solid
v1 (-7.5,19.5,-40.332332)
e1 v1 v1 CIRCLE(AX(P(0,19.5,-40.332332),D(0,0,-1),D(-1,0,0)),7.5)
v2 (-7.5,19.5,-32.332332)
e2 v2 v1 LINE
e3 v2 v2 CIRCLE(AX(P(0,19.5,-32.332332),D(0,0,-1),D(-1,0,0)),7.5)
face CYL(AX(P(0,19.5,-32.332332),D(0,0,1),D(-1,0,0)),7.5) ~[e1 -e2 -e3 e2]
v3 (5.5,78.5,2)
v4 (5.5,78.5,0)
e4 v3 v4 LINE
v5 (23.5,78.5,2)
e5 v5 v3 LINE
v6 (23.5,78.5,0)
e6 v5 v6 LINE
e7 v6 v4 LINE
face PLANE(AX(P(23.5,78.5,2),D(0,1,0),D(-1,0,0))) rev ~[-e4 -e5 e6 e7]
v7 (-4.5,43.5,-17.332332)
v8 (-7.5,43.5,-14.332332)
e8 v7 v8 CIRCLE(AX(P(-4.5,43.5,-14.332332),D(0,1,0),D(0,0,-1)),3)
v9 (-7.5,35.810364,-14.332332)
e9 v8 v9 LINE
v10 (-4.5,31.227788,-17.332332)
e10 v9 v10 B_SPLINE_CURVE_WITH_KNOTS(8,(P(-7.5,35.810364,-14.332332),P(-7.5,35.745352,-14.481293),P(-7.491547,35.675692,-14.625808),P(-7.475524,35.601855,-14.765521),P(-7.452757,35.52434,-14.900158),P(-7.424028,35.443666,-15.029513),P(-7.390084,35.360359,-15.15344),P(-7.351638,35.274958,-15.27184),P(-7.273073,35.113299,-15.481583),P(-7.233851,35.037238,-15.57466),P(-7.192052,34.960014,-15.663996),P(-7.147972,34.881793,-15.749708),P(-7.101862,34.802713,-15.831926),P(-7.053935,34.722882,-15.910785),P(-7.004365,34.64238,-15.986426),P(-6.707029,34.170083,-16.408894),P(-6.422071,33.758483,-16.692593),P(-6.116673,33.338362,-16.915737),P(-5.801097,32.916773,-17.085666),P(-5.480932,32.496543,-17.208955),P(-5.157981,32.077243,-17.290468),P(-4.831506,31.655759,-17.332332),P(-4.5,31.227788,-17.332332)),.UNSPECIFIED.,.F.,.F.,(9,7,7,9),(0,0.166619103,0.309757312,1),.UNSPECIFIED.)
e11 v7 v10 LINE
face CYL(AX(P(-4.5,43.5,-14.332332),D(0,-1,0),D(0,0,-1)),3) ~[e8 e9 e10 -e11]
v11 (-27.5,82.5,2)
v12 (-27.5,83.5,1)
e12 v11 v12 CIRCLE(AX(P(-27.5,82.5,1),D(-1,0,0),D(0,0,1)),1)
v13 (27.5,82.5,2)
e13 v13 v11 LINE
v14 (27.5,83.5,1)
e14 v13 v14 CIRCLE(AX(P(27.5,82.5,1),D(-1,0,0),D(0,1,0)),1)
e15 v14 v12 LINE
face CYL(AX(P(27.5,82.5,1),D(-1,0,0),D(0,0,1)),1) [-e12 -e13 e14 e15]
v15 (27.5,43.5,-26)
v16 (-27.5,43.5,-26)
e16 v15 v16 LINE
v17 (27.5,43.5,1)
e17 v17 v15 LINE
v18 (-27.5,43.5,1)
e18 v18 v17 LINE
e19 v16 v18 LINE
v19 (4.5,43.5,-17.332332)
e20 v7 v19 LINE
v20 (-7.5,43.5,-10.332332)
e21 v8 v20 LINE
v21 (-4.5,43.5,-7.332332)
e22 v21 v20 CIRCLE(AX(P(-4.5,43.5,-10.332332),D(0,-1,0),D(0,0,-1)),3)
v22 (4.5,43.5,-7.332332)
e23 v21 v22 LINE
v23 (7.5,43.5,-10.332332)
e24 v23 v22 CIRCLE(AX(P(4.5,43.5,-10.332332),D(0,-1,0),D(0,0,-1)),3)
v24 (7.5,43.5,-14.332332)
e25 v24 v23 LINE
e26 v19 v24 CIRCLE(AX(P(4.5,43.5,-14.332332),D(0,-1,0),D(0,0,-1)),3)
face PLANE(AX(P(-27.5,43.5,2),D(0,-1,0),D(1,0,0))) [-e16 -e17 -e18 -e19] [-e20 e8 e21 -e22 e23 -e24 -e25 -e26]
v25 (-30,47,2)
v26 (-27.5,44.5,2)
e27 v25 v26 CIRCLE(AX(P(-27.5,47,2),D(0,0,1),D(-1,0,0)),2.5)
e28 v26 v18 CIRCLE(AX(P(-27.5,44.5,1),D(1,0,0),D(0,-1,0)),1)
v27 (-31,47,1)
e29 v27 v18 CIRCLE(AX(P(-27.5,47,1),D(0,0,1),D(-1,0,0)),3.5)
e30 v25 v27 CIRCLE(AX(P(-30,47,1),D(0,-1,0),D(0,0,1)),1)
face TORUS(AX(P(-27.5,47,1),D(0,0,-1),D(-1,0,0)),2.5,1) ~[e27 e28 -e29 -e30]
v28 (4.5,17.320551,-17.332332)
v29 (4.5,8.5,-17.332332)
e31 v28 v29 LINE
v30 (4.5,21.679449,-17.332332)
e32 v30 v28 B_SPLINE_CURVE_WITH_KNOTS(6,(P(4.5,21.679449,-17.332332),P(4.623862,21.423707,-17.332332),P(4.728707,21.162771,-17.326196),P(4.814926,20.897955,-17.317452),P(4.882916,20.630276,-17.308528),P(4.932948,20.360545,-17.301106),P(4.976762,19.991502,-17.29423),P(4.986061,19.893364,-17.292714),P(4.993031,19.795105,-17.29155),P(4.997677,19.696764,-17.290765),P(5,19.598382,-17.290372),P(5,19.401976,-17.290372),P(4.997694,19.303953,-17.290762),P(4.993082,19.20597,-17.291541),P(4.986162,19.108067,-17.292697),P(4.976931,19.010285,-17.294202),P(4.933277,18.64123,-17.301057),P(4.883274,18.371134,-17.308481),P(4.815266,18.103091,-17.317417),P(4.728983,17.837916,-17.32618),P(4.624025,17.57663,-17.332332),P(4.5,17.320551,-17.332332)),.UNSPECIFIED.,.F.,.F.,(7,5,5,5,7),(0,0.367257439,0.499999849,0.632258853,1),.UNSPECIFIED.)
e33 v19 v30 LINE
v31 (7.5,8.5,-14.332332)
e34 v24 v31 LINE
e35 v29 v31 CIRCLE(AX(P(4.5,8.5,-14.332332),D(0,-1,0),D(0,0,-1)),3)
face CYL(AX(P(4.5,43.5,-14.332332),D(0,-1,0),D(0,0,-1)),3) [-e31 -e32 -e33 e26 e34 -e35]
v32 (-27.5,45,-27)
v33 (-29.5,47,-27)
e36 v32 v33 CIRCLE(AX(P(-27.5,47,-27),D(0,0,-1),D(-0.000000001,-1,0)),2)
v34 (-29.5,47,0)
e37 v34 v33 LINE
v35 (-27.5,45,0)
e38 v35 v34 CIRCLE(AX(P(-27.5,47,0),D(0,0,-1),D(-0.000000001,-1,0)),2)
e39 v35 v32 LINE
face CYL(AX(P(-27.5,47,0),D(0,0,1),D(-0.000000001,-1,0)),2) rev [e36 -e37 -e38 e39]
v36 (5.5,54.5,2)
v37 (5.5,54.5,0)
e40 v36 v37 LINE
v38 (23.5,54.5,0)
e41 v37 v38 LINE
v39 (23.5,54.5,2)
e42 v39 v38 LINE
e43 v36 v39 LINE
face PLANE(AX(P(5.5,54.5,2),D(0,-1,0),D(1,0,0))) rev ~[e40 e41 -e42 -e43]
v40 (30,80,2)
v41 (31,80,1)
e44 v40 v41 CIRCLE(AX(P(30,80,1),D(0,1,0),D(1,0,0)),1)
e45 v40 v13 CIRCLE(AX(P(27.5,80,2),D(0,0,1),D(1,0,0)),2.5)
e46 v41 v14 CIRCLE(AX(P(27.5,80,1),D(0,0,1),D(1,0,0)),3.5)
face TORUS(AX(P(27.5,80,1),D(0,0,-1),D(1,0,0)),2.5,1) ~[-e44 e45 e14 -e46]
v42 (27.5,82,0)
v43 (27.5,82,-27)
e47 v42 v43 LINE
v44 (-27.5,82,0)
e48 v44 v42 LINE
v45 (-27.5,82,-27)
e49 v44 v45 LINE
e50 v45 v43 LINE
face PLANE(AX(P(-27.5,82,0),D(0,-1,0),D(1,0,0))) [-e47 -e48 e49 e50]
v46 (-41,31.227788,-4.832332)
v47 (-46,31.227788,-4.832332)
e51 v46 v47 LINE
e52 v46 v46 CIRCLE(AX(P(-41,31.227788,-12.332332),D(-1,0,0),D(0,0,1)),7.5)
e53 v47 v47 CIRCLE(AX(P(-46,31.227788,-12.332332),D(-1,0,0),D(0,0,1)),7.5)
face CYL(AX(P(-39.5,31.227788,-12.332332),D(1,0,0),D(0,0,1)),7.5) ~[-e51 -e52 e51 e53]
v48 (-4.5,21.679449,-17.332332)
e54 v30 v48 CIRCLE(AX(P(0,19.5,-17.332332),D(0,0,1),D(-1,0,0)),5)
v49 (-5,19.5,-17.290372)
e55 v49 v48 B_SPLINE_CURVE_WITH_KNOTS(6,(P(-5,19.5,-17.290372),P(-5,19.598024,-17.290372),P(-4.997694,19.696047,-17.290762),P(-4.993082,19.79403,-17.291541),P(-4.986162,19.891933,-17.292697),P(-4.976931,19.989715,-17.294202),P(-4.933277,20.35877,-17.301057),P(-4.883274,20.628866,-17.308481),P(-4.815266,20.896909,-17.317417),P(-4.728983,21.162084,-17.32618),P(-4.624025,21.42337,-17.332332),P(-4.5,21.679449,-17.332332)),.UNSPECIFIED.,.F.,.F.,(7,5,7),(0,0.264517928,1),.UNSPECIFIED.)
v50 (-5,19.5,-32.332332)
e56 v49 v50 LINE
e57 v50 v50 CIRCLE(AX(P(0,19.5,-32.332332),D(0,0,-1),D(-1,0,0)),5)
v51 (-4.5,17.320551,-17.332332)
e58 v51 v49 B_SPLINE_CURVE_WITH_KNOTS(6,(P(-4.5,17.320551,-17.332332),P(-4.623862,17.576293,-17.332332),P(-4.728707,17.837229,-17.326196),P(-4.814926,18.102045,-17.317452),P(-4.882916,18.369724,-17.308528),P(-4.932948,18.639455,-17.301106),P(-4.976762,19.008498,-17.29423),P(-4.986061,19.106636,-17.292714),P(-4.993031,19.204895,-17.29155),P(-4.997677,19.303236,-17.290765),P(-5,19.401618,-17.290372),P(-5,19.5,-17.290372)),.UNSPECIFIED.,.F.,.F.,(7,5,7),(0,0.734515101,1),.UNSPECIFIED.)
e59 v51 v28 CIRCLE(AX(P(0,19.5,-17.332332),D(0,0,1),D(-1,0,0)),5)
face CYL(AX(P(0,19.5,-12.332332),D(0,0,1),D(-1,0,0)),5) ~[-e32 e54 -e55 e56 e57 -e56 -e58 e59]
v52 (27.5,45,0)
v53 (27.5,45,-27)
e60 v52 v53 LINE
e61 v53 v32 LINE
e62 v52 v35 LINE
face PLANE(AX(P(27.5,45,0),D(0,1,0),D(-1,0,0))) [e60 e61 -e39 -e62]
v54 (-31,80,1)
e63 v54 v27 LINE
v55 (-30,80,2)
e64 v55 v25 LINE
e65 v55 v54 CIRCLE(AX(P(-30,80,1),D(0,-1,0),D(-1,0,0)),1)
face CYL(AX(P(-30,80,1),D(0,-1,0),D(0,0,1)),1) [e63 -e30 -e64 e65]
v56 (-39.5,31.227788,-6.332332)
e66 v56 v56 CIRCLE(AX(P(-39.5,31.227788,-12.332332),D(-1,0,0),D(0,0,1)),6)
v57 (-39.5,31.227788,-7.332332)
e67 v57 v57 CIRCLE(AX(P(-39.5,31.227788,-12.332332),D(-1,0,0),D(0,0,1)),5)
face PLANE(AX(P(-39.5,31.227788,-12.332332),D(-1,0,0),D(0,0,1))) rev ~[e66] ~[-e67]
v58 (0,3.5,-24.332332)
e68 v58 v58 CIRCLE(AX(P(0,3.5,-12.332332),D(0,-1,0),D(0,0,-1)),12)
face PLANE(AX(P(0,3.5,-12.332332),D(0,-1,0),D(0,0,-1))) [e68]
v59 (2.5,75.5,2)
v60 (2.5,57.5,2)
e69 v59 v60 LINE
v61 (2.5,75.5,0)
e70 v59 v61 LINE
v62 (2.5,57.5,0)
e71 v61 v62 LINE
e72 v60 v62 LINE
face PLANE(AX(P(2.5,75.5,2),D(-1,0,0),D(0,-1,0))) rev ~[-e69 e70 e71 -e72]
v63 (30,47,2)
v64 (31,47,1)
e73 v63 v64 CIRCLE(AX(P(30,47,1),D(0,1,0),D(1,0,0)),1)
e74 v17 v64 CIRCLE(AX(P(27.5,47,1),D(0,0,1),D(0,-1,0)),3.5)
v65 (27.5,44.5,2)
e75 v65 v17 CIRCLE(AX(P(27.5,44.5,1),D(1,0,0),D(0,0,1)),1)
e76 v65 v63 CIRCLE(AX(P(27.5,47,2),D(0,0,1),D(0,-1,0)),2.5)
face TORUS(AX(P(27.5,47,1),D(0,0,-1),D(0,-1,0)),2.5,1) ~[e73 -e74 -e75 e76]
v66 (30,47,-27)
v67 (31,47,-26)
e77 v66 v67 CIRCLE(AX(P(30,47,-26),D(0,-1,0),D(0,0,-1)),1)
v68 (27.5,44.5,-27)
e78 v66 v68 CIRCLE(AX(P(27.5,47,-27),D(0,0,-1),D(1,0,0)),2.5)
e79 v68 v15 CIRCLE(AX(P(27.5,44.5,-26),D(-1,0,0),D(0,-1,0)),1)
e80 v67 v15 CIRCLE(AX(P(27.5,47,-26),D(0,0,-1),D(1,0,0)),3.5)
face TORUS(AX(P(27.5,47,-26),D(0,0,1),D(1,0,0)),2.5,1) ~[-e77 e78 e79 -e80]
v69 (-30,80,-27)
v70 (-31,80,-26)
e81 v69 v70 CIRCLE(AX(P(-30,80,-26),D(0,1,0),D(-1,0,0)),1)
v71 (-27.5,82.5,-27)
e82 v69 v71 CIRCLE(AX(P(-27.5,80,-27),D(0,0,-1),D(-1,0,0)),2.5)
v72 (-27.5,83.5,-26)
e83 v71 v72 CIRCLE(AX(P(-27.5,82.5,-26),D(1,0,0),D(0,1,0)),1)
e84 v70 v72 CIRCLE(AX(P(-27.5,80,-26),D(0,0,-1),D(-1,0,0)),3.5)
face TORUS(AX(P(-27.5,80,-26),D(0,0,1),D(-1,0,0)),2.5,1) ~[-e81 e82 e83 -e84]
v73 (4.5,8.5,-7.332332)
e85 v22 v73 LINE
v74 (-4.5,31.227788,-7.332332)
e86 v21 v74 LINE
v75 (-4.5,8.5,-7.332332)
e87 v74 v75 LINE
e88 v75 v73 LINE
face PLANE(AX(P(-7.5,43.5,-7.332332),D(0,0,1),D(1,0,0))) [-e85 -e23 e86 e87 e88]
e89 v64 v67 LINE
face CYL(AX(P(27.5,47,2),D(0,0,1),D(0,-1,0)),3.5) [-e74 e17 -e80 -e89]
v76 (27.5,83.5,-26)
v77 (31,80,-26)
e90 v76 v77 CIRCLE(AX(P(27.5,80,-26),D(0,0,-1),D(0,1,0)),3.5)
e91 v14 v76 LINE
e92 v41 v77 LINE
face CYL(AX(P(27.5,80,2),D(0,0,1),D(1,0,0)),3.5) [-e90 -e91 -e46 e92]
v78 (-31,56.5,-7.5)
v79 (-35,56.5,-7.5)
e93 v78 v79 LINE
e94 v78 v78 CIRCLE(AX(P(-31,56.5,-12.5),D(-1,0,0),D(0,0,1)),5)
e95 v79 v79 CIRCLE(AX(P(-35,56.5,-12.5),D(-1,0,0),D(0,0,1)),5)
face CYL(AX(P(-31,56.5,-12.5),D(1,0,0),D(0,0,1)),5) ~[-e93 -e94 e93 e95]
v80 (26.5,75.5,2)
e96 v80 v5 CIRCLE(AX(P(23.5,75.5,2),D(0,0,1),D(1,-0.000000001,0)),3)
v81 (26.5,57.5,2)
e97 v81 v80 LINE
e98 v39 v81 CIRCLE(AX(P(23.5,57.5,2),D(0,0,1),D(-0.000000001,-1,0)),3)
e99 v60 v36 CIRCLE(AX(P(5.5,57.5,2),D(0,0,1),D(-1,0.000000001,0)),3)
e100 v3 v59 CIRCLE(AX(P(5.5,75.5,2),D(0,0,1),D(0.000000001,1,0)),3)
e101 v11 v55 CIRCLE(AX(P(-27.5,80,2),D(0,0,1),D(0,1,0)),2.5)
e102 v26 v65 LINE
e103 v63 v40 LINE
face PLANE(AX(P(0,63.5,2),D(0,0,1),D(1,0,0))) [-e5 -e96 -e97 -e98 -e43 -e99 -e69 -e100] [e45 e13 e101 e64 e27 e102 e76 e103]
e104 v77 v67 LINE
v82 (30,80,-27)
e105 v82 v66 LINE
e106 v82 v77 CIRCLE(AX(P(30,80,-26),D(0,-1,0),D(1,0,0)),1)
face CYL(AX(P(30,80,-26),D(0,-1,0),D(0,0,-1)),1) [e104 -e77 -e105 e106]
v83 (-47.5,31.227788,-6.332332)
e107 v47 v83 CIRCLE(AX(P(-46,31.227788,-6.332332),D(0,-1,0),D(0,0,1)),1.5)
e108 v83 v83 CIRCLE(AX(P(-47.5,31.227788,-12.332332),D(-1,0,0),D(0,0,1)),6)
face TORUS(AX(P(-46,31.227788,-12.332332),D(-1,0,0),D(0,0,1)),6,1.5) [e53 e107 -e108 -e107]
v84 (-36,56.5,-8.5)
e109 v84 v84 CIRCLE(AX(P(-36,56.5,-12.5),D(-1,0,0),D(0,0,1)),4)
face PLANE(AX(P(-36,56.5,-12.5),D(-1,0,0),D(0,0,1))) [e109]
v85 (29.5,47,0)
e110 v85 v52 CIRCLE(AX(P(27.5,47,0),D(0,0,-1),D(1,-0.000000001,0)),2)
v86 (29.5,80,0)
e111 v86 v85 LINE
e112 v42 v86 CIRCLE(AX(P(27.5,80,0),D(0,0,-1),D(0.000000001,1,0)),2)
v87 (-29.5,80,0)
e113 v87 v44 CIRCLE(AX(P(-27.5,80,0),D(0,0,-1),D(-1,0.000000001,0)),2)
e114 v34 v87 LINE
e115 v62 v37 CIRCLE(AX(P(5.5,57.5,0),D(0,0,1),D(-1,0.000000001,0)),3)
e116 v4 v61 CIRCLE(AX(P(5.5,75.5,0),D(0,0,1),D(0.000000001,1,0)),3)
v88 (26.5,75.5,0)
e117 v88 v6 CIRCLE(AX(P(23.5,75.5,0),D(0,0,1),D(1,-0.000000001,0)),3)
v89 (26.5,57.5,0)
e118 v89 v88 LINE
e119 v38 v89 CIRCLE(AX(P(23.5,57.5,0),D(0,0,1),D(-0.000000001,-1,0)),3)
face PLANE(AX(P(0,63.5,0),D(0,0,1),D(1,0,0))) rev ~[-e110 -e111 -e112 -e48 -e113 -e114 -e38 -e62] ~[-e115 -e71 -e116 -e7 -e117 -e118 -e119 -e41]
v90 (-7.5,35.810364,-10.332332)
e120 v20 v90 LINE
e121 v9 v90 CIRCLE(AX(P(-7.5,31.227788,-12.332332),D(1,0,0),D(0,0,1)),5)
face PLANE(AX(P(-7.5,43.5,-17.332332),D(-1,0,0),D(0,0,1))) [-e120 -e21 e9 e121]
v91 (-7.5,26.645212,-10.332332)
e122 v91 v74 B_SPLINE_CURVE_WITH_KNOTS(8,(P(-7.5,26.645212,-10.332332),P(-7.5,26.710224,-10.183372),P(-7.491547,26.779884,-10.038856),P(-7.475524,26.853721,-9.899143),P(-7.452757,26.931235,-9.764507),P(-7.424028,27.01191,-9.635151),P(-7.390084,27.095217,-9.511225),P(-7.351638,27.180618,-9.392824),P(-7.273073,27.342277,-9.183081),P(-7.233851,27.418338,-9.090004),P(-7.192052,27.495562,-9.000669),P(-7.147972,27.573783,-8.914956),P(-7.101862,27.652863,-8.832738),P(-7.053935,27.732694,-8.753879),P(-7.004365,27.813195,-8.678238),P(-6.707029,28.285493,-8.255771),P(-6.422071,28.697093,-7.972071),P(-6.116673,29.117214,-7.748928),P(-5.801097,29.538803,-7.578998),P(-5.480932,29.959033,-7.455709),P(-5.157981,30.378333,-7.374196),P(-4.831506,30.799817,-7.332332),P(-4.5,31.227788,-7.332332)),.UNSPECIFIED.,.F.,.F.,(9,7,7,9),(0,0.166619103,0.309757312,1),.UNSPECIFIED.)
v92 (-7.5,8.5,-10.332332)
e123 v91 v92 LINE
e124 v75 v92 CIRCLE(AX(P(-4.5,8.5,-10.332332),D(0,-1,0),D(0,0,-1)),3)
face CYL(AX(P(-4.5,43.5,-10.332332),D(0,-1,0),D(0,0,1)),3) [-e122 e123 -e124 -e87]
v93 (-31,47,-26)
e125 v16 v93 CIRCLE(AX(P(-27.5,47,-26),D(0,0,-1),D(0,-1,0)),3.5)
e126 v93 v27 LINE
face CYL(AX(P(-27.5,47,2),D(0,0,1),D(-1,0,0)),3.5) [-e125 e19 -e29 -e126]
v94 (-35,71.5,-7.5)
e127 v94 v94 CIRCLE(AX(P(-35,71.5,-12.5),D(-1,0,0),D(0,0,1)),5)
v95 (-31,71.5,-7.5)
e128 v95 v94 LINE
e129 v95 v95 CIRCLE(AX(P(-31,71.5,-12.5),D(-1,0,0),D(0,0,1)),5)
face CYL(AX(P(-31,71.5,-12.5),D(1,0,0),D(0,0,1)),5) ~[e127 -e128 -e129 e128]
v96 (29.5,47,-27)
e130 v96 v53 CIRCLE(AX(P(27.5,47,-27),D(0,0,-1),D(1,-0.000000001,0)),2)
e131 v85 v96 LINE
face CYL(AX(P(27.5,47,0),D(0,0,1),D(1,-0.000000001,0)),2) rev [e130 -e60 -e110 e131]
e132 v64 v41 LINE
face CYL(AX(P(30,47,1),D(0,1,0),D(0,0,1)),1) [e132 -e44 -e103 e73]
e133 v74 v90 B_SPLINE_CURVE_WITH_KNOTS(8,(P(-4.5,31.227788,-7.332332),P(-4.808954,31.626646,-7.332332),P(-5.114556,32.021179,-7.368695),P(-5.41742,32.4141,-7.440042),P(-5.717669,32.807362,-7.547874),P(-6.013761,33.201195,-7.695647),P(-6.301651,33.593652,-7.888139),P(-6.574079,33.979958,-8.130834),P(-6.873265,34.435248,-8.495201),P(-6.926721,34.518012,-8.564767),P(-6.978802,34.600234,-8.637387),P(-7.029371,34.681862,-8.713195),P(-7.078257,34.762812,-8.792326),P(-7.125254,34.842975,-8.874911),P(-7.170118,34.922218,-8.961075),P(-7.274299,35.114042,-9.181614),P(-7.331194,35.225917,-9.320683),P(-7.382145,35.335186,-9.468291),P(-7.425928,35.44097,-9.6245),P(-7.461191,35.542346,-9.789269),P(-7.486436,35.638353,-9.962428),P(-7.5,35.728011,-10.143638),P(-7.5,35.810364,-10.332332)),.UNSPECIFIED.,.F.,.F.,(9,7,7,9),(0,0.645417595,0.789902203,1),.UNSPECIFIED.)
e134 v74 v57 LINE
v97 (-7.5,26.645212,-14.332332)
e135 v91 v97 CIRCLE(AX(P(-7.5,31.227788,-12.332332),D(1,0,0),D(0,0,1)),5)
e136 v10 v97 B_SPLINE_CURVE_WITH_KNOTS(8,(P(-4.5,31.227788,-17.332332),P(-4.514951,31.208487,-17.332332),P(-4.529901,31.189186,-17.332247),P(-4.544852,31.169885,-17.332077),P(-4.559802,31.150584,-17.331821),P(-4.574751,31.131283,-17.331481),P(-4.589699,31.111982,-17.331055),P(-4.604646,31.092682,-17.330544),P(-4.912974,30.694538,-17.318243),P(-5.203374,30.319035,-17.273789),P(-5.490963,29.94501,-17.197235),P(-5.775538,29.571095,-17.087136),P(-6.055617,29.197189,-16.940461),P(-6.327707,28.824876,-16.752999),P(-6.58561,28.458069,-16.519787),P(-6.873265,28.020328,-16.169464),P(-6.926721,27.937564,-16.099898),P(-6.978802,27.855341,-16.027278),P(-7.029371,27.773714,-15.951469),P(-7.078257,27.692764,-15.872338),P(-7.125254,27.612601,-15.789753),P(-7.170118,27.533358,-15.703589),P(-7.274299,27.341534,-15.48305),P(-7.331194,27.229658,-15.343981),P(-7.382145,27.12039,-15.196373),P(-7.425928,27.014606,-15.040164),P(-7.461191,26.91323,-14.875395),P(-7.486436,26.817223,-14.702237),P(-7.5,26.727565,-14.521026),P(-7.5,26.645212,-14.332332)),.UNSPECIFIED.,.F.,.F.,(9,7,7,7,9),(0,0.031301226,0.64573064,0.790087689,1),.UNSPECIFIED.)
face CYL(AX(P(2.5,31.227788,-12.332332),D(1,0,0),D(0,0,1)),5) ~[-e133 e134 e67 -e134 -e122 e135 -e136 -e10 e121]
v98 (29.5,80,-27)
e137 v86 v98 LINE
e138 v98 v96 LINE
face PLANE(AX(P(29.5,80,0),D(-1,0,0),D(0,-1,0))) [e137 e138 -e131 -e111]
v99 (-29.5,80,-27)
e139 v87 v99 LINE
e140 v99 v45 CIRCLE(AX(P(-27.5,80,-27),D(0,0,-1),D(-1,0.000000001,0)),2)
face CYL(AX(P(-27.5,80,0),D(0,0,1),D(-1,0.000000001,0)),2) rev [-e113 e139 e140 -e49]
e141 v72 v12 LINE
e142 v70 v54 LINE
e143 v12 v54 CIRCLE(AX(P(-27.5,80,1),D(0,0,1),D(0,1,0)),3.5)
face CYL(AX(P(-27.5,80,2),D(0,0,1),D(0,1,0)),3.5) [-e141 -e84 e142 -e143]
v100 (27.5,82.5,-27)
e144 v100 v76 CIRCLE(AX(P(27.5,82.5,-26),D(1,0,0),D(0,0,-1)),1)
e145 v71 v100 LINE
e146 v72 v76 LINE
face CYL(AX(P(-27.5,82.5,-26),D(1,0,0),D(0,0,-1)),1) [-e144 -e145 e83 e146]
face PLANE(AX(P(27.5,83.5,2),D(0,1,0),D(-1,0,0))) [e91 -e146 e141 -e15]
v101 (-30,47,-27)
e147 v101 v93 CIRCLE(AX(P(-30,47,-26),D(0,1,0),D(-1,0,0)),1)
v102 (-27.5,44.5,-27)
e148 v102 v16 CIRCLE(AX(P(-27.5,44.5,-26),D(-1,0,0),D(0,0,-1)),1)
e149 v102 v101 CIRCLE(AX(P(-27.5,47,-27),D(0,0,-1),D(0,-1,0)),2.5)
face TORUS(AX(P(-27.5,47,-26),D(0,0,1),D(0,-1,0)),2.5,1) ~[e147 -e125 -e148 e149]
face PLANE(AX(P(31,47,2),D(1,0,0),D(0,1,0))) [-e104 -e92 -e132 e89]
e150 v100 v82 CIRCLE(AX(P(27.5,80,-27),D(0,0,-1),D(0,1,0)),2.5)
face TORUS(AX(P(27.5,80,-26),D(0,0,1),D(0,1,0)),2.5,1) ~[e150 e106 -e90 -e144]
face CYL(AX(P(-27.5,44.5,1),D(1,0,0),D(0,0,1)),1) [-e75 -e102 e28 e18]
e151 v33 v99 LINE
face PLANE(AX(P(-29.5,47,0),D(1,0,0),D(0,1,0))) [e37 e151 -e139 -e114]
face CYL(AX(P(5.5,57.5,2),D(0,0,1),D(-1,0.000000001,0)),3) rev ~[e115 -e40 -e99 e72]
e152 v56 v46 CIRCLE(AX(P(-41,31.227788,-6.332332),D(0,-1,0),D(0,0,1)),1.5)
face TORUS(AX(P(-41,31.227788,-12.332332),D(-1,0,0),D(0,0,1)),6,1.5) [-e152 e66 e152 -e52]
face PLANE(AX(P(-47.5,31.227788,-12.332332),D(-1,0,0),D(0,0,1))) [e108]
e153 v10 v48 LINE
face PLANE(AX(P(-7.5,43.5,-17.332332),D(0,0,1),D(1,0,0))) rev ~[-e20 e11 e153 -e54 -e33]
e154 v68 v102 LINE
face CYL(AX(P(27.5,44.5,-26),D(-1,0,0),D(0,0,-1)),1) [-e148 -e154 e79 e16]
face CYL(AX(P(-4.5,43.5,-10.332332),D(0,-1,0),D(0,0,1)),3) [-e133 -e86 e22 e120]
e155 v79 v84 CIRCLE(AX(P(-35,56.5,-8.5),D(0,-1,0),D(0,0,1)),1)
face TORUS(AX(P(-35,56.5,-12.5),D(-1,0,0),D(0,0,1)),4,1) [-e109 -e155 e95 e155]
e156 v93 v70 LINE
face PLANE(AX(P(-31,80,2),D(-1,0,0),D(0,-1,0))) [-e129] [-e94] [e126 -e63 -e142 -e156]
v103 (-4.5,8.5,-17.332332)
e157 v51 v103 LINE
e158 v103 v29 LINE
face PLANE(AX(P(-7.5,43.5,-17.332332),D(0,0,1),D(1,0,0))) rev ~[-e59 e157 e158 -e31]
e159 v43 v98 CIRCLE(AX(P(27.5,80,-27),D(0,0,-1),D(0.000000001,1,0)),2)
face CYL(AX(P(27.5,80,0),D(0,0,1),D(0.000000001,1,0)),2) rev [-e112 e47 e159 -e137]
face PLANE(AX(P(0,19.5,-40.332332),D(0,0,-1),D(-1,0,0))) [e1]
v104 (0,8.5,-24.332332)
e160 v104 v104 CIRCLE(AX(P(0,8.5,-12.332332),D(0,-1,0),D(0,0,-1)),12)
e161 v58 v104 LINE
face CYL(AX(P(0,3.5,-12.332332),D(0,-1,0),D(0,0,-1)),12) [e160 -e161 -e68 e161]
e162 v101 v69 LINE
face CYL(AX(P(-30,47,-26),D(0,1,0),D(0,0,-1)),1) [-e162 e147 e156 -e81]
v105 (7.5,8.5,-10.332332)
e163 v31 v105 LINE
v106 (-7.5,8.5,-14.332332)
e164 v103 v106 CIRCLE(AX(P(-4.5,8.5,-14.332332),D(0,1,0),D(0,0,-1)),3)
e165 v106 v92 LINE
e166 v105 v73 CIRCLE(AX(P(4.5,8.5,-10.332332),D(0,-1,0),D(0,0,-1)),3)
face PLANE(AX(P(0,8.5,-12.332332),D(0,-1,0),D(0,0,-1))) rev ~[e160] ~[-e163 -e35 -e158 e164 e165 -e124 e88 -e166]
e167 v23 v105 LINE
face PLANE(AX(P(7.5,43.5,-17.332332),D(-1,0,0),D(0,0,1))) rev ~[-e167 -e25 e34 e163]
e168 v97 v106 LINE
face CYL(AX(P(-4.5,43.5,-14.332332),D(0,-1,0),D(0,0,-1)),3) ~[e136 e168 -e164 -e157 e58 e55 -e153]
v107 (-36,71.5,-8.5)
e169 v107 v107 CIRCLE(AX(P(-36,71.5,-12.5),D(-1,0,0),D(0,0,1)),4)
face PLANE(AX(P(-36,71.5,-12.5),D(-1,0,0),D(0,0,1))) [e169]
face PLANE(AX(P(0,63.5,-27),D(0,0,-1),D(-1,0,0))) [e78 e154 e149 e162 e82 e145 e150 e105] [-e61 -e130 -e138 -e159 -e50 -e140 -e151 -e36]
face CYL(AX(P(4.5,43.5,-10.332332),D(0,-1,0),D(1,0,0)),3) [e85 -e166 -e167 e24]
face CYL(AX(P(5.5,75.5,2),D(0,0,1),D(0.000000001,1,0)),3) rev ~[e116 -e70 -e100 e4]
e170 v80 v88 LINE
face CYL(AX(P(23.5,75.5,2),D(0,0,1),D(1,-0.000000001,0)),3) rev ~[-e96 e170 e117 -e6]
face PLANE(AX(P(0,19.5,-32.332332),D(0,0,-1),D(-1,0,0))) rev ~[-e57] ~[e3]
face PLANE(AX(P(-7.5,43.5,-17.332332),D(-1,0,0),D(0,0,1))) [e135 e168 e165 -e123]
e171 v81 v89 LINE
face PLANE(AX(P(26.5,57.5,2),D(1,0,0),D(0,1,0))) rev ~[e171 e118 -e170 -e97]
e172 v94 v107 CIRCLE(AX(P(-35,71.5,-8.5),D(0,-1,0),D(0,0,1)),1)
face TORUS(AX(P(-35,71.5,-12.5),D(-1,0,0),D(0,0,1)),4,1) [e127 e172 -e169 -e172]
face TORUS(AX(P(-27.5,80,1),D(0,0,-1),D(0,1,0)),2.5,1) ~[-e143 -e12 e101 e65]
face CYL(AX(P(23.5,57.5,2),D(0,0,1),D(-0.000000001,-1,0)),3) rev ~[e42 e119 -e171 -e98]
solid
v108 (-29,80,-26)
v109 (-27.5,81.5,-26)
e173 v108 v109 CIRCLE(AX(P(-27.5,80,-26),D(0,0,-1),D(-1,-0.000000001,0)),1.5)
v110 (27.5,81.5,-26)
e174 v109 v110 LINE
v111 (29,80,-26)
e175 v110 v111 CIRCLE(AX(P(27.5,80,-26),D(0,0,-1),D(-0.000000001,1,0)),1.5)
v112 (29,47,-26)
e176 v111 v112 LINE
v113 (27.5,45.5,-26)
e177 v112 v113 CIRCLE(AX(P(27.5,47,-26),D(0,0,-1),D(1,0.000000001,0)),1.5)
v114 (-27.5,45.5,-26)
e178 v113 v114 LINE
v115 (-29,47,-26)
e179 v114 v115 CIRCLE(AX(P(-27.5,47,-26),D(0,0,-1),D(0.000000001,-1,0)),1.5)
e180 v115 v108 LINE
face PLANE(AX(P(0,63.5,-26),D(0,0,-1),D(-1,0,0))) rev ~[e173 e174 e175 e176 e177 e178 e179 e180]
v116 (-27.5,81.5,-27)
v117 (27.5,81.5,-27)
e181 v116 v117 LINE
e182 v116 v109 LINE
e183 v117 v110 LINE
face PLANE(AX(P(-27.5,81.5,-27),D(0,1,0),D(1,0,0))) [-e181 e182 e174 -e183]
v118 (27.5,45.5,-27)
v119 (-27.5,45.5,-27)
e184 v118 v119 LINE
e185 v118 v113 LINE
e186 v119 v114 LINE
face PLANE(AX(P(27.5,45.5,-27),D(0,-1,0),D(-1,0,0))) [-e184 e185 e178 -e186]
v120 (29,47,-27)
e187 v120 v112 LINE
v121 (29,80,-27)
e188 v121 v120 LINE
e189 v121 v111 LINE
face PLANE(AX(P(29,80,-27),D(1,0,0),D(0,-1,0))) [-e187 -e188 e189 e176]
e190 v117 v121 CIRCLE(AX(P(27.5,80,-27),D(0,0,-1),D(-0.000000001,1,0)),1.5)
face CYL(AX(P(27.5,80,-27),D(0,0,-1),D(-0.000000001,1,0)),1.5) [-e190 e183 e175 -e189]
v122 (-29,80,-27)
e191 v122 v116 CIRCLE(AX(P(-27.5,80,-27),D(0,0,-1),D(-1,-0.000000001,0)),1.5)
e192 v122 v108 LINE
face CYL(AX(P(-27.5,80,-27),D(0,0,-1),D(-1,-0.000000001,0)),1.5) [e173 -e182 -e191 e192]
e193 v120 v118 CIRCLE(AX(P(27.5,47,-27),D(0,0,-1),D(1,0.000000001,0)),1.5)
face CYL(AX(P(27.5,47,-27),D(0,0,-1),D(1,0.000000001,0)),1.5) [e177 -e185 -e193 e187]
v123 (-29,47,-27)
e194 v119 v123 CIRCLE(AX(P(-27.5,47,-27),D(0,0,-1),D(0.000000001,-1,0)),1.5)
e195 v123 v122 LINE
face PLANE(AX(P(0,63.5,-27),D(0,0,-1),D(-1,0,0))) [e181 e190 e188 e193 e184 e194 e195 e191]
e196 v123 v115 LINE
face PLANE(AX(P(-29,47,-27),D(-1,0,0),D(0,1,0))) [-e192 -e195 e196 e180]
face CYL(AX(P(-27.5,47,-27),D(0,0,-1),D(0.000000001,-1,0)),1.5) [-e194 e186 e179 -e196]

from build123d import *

# Parameters (mm, degrees)
BOSS_EXTRUDE1_DEPTH      = 27
BOSS_EXTRUDE2_START      = 2
BOSS_EXTRUDE2_DEPTH      = 2
SKETCH3_W                = 15
SKETCH3_H                = 10
BOSS_EXTRUDE3_DEPTH      = 40
SKETCH4_R                = 12
BOSS_EXTRUDE4_DEPTH      = 5
FILLET2_R                = 3
BOSS_EXTRUDE5_DEPTH      = 32
BOSS_EXTRUDE5_DEPTH_BACK = 10
SKETCH5_R                = 5
SKETCH6_R                = 7.5
BOSS_EXTRUDE6_DEPTH      = 8
SKETCH7_R                = 5
BOSS_EXTRUDE7_DEPTH      = 5
BOSS_EXTRUDE8_DEPTH      = 1
FILLET3_R                = 1
FILLET4_R                = 1.5
FILLET5_R                = 1
BOSS_EXTRUDE9_DEPTH      = 15
BOSS_EXTRUDE9_DEPTH_BACK = 5
SKETCH9_R                = 5
SKETCH11_R               = 7.5
BOSS_EXTRUDE10_DEPTH     = 8


with BuildPart() as part:
    # Sketch1 → Boss-Extrude1 (new body)
    with BuildSketch(Plane.XY):
        with BuildLine():
            Line((31, 80), (31, 47))
            ThreePointArc((31, 47), (29.974873734, 44.525126266), (27.5, 43.5))
            Line((27.5, 43.5), (-27.5, 43.5))
            ThreePointArc((-27.5, 43.5), (-29.974873734, 44.525126266), (-31, 47))
            Line((-31, 47), (-31, 80))
            ThreePointArc((-31, 80), (-29.974873734, 82.474873734), (-27.5, 83.5))
            Line((-27.5, 83.5), (27.5, 83.5))
            ThreePointArc((27.5, 83.5), (29.974873734, 82.474873734), (31, 80))
        make_face()
        with BuildLine():
            Line((29.5, 80), (29.5, 47))
            ThreePointArc((29.5, 47), (28.914213562, 45.585786438), (27.5, 45))
            Line((27.5, 45), (-27.5, 45))
            ThreePointArc((-27.5, 45), (-28.914213562, 45.585786438), (-29.5, 47))
            Line((-29.5, 47), (-29.5, 80))
            ThreePointArc((-29.5, 80), (-28.914213562, 81.414213562), (-27.5, 82))
            Line((-27.5, 82), (27.5, 82))
            ThreePointArc((27.5, 82), (28.914213562, 81.414213562), (29.5, 80))
        make_face(mode=Mode.SUBTRACT)
    extrude(amount=-BOSS_EXTRUDE1_DEPTH)

    # Sketch2 → Boss-Extrude2 (add)
    with BuildSketch(Plane.XY.offset(BOSS_EXTRUDE2_START)):
        with BuildLine():
            Line((27.5, 83.5), (-27.5, 83.5))
            ThreePointArc((-27.5, 83.5), (-29.974873734, 82.474873734), (-31, 80))
            Line((-31, 80), (-31, 47))
            ThreePointArc((-31, 47), (-29.974873734, 44.525126266), (-27.5, 43.5))
            Line((-27.5, 43.5), (27.5, 43.5))
            ThreePointArc((27.5, 43.5), (29.974873734, 44.525126266), (31, 47))
            Line((31, 47), (31, 80))
            ThreePointArc((31, 80), (29.974873734, 82.474873734), (27.5, 83.5))
        make_face()
        with BuildLine():
            Line((23.5, 78.5), (5.5, 78.5))
            ThreePointArc((5.5, 78.5), (3.378679656, 77.621320344), (2.5, 75.5))
            Line((2.5, 75.5), (2.5, 57.5))
            ThreePointArc((2.5, 57.5), (3.378679656, 55.378679656), (5.5, 54.5))
            Line((5.5, 54.5), (23.5, 54.5))
            ThreePointArc((23.5, 54.5), (25.621320344, 55.378679656), (26.5, 57.5))
            Line((26.5, 57.5), (26.5, 75.5))
            ThreePointArc((26.5, 75.5), (25.621320344, 77.621320344), (23.5, 78.5))
        make_face(mode=Mode.SUBTRACT)
    extrude(amount=-BOSS_EXTRUDE2_DEPTH)

    # Sketch3 → Boss-Extrude3 (add)
    with BuildSketch(Plane.XZ.offset(-43.5)):
        with Locations((0, -12.332332162)):
            Rectangle(SKETCH3_W, SKETCH3_H)
    extrude(amount=BOSS_EXTRUDE3_DEPTH)

    # Sketch4 → Boss-Extrude4 (add)
    with BuildSketch(Plane.XZ.offset(-3.5)):
        with Locations(Location((0, -12.332332162, 0), (0, 0, 270))):
            Circle(SKETCH4_R)
    extrude(amount=-BOSS_EXTRUDE4_DEPTH)

    # Fillet2
    fillet2_edges = [part.edges().sort_by_distance(p)[0] for p in [
        (-7.5, 26, -7.332332162),
        (7.5, 26, -7.332332162),
        (7.5, 26, -17.332332162),
        (-7.5, 26, -17.332332162),
    ]]
    fillet(fillet2_edges, radius=FILLET2_R)

    # Sketch5 → Boss-Extrude5 (add, two sides: drawn at the far end of the back side and taken through both)
    with BuildSketch(Plane.ZY.offset(7.5).offset(-BOSS_EXTRUDE5_DEPTH_BACK)):
        with Locations((-12.332332162, 31.227787974)):
            Circle(SKETCH5_R)
    extrude(amount=BOSS_EXTRUDE5_DEPTH + BOSS_EXTRUDE5_DEPTH_BACK)

    # Sketch6 → Boss-Extrude6 (add)
    with BuildSketch(Plane.ZY.offset(39.5)):
        with Locations((-12.332332162, 31.227787974)):
            Circle(SKETCH6_R)
    extrude(amount=BOSS_EXTRUDE6_DEPTH)

    # Sketch7 → Boss-Extrude7 (add)
    with BuildSketch(Plane.ZY.offset(31)):
        with Locations((-12.5, 71.5)):
            Circle(SKETCH7_R)
        with Locations((-12.5, 56.5)):
            Circle(SKETCH7_R)
    extrude(amount=BOSS_EXTRUDE7_DEPTH)

    # Fillet3
    fillet3_edges = [part.edges().sort_by_distance(p)[0] for p in [
        (-29.974873734, 82.474873734, -27),
        (-31, 63.5, -27),
        (-29.974873734, 44.525126266, -27),
        (0, 43.5, -27),
        (29.974873734, 44.525126266, -27),
        (31, 63.5, -27),
        (29.974873734, 82.474873734, -27),
        (29.974873734, 82.474873734, 2),
        (0, 83.5, 2),
        (-29.974873734, 82.474873734, 2),
        (-31, 63.5, 2),
        (-29.974873734, 44.525126266, 2),
        (0, 43.5, 2),
        (29.974873734, 44.525126266, 2),
        (31, 63.5, 2),
        (0, 83.5, -27),
    ]]
    fillet(fillet3_edges, radius=FILLET3_R)

    # Fillet4
    fillet4_edges = [part.edges().sort_by_distance(p)[0] for p in [
        (-39.5, 31.227787974, -19.832332162),
        (-47.5, 31.227787974, -19.832332162),
    ]]
    fillet(fillet4_edges, radius=FILLET4_R)

    # Fillet5
    fillet5_edges = [part.edges().sort_by_distance(p)[0] for p in [
        (-36, 71.5, -17.5),
        (-36, 56.5, -17.5),
    ]]
    fillet(fillet5_edges, radius=FILLET5_R)

    # Sketch9 → Boss-Extrude9 (add, two sides: drawn at the far end of the back side and taken through both)
    with BuildSketch(Plane(origin=(0, 0, -17.332332162), x_dir=(-1, 0, 0), z_dir=(0, 0, -1)).offset(-BOSS_EXTRUDE9_DEPTH_BACK)):
        with Locations((0, 19.5)):
            Circle(SKETCH9_R)
    extrude(amount=BOSS_EXTRUDE9_DEPTH + BOSS_EXTRUDE9_DEPTH_BACK)

    # Sketch11 → Boss-Extrude10 (add)
    with BuildSketch(Plane(origin=(0, 0, -32.332332162), x_dir=(-1, 0, 0), z_dir=(0, 0, -1))):
        with Locations((0, 19.5)):
            Circle(SKETCH11_R)
    extrude(amount=BOSS_EXTRUDE10_DEPTH)


with BuildPart() as body_2:
    # Sketch8 → Boss-Extrude8 (new body)
    with BuildSketch(Plane(origin=(0, 0, -27), x_dir=(-1, 0, 0), z_dir=(0, 0, -1))):
        with BuildLine():
            Line((-29, 80), (-29, 47))
            ThreePointArc((-29, 47), (-28.560660172, 45.939339828), (-27.5, 45.5))
            Line((-27.5, 45.5), (27.5, 45.5))
            ThreePointArc((27.5, 45.5), (28.560660172, 45.939339828), (29, 47))
            Line((29, 47), (29, 80))
            ThreePointArc((29, 80), (28.560660172, 81.060660172), (27.5, 81.5))
            Line((27.5, 81.5), (-27.5, 81.5))
            ThreePointArc((-27.5, 81.5), (-28.560660172, 81.060660172), (-29, 80))
        make_face()
    extrude(amount=-BOSS_EXTRUDE8_DEPTH)


solid = Compound([part.part, body_2.part])
